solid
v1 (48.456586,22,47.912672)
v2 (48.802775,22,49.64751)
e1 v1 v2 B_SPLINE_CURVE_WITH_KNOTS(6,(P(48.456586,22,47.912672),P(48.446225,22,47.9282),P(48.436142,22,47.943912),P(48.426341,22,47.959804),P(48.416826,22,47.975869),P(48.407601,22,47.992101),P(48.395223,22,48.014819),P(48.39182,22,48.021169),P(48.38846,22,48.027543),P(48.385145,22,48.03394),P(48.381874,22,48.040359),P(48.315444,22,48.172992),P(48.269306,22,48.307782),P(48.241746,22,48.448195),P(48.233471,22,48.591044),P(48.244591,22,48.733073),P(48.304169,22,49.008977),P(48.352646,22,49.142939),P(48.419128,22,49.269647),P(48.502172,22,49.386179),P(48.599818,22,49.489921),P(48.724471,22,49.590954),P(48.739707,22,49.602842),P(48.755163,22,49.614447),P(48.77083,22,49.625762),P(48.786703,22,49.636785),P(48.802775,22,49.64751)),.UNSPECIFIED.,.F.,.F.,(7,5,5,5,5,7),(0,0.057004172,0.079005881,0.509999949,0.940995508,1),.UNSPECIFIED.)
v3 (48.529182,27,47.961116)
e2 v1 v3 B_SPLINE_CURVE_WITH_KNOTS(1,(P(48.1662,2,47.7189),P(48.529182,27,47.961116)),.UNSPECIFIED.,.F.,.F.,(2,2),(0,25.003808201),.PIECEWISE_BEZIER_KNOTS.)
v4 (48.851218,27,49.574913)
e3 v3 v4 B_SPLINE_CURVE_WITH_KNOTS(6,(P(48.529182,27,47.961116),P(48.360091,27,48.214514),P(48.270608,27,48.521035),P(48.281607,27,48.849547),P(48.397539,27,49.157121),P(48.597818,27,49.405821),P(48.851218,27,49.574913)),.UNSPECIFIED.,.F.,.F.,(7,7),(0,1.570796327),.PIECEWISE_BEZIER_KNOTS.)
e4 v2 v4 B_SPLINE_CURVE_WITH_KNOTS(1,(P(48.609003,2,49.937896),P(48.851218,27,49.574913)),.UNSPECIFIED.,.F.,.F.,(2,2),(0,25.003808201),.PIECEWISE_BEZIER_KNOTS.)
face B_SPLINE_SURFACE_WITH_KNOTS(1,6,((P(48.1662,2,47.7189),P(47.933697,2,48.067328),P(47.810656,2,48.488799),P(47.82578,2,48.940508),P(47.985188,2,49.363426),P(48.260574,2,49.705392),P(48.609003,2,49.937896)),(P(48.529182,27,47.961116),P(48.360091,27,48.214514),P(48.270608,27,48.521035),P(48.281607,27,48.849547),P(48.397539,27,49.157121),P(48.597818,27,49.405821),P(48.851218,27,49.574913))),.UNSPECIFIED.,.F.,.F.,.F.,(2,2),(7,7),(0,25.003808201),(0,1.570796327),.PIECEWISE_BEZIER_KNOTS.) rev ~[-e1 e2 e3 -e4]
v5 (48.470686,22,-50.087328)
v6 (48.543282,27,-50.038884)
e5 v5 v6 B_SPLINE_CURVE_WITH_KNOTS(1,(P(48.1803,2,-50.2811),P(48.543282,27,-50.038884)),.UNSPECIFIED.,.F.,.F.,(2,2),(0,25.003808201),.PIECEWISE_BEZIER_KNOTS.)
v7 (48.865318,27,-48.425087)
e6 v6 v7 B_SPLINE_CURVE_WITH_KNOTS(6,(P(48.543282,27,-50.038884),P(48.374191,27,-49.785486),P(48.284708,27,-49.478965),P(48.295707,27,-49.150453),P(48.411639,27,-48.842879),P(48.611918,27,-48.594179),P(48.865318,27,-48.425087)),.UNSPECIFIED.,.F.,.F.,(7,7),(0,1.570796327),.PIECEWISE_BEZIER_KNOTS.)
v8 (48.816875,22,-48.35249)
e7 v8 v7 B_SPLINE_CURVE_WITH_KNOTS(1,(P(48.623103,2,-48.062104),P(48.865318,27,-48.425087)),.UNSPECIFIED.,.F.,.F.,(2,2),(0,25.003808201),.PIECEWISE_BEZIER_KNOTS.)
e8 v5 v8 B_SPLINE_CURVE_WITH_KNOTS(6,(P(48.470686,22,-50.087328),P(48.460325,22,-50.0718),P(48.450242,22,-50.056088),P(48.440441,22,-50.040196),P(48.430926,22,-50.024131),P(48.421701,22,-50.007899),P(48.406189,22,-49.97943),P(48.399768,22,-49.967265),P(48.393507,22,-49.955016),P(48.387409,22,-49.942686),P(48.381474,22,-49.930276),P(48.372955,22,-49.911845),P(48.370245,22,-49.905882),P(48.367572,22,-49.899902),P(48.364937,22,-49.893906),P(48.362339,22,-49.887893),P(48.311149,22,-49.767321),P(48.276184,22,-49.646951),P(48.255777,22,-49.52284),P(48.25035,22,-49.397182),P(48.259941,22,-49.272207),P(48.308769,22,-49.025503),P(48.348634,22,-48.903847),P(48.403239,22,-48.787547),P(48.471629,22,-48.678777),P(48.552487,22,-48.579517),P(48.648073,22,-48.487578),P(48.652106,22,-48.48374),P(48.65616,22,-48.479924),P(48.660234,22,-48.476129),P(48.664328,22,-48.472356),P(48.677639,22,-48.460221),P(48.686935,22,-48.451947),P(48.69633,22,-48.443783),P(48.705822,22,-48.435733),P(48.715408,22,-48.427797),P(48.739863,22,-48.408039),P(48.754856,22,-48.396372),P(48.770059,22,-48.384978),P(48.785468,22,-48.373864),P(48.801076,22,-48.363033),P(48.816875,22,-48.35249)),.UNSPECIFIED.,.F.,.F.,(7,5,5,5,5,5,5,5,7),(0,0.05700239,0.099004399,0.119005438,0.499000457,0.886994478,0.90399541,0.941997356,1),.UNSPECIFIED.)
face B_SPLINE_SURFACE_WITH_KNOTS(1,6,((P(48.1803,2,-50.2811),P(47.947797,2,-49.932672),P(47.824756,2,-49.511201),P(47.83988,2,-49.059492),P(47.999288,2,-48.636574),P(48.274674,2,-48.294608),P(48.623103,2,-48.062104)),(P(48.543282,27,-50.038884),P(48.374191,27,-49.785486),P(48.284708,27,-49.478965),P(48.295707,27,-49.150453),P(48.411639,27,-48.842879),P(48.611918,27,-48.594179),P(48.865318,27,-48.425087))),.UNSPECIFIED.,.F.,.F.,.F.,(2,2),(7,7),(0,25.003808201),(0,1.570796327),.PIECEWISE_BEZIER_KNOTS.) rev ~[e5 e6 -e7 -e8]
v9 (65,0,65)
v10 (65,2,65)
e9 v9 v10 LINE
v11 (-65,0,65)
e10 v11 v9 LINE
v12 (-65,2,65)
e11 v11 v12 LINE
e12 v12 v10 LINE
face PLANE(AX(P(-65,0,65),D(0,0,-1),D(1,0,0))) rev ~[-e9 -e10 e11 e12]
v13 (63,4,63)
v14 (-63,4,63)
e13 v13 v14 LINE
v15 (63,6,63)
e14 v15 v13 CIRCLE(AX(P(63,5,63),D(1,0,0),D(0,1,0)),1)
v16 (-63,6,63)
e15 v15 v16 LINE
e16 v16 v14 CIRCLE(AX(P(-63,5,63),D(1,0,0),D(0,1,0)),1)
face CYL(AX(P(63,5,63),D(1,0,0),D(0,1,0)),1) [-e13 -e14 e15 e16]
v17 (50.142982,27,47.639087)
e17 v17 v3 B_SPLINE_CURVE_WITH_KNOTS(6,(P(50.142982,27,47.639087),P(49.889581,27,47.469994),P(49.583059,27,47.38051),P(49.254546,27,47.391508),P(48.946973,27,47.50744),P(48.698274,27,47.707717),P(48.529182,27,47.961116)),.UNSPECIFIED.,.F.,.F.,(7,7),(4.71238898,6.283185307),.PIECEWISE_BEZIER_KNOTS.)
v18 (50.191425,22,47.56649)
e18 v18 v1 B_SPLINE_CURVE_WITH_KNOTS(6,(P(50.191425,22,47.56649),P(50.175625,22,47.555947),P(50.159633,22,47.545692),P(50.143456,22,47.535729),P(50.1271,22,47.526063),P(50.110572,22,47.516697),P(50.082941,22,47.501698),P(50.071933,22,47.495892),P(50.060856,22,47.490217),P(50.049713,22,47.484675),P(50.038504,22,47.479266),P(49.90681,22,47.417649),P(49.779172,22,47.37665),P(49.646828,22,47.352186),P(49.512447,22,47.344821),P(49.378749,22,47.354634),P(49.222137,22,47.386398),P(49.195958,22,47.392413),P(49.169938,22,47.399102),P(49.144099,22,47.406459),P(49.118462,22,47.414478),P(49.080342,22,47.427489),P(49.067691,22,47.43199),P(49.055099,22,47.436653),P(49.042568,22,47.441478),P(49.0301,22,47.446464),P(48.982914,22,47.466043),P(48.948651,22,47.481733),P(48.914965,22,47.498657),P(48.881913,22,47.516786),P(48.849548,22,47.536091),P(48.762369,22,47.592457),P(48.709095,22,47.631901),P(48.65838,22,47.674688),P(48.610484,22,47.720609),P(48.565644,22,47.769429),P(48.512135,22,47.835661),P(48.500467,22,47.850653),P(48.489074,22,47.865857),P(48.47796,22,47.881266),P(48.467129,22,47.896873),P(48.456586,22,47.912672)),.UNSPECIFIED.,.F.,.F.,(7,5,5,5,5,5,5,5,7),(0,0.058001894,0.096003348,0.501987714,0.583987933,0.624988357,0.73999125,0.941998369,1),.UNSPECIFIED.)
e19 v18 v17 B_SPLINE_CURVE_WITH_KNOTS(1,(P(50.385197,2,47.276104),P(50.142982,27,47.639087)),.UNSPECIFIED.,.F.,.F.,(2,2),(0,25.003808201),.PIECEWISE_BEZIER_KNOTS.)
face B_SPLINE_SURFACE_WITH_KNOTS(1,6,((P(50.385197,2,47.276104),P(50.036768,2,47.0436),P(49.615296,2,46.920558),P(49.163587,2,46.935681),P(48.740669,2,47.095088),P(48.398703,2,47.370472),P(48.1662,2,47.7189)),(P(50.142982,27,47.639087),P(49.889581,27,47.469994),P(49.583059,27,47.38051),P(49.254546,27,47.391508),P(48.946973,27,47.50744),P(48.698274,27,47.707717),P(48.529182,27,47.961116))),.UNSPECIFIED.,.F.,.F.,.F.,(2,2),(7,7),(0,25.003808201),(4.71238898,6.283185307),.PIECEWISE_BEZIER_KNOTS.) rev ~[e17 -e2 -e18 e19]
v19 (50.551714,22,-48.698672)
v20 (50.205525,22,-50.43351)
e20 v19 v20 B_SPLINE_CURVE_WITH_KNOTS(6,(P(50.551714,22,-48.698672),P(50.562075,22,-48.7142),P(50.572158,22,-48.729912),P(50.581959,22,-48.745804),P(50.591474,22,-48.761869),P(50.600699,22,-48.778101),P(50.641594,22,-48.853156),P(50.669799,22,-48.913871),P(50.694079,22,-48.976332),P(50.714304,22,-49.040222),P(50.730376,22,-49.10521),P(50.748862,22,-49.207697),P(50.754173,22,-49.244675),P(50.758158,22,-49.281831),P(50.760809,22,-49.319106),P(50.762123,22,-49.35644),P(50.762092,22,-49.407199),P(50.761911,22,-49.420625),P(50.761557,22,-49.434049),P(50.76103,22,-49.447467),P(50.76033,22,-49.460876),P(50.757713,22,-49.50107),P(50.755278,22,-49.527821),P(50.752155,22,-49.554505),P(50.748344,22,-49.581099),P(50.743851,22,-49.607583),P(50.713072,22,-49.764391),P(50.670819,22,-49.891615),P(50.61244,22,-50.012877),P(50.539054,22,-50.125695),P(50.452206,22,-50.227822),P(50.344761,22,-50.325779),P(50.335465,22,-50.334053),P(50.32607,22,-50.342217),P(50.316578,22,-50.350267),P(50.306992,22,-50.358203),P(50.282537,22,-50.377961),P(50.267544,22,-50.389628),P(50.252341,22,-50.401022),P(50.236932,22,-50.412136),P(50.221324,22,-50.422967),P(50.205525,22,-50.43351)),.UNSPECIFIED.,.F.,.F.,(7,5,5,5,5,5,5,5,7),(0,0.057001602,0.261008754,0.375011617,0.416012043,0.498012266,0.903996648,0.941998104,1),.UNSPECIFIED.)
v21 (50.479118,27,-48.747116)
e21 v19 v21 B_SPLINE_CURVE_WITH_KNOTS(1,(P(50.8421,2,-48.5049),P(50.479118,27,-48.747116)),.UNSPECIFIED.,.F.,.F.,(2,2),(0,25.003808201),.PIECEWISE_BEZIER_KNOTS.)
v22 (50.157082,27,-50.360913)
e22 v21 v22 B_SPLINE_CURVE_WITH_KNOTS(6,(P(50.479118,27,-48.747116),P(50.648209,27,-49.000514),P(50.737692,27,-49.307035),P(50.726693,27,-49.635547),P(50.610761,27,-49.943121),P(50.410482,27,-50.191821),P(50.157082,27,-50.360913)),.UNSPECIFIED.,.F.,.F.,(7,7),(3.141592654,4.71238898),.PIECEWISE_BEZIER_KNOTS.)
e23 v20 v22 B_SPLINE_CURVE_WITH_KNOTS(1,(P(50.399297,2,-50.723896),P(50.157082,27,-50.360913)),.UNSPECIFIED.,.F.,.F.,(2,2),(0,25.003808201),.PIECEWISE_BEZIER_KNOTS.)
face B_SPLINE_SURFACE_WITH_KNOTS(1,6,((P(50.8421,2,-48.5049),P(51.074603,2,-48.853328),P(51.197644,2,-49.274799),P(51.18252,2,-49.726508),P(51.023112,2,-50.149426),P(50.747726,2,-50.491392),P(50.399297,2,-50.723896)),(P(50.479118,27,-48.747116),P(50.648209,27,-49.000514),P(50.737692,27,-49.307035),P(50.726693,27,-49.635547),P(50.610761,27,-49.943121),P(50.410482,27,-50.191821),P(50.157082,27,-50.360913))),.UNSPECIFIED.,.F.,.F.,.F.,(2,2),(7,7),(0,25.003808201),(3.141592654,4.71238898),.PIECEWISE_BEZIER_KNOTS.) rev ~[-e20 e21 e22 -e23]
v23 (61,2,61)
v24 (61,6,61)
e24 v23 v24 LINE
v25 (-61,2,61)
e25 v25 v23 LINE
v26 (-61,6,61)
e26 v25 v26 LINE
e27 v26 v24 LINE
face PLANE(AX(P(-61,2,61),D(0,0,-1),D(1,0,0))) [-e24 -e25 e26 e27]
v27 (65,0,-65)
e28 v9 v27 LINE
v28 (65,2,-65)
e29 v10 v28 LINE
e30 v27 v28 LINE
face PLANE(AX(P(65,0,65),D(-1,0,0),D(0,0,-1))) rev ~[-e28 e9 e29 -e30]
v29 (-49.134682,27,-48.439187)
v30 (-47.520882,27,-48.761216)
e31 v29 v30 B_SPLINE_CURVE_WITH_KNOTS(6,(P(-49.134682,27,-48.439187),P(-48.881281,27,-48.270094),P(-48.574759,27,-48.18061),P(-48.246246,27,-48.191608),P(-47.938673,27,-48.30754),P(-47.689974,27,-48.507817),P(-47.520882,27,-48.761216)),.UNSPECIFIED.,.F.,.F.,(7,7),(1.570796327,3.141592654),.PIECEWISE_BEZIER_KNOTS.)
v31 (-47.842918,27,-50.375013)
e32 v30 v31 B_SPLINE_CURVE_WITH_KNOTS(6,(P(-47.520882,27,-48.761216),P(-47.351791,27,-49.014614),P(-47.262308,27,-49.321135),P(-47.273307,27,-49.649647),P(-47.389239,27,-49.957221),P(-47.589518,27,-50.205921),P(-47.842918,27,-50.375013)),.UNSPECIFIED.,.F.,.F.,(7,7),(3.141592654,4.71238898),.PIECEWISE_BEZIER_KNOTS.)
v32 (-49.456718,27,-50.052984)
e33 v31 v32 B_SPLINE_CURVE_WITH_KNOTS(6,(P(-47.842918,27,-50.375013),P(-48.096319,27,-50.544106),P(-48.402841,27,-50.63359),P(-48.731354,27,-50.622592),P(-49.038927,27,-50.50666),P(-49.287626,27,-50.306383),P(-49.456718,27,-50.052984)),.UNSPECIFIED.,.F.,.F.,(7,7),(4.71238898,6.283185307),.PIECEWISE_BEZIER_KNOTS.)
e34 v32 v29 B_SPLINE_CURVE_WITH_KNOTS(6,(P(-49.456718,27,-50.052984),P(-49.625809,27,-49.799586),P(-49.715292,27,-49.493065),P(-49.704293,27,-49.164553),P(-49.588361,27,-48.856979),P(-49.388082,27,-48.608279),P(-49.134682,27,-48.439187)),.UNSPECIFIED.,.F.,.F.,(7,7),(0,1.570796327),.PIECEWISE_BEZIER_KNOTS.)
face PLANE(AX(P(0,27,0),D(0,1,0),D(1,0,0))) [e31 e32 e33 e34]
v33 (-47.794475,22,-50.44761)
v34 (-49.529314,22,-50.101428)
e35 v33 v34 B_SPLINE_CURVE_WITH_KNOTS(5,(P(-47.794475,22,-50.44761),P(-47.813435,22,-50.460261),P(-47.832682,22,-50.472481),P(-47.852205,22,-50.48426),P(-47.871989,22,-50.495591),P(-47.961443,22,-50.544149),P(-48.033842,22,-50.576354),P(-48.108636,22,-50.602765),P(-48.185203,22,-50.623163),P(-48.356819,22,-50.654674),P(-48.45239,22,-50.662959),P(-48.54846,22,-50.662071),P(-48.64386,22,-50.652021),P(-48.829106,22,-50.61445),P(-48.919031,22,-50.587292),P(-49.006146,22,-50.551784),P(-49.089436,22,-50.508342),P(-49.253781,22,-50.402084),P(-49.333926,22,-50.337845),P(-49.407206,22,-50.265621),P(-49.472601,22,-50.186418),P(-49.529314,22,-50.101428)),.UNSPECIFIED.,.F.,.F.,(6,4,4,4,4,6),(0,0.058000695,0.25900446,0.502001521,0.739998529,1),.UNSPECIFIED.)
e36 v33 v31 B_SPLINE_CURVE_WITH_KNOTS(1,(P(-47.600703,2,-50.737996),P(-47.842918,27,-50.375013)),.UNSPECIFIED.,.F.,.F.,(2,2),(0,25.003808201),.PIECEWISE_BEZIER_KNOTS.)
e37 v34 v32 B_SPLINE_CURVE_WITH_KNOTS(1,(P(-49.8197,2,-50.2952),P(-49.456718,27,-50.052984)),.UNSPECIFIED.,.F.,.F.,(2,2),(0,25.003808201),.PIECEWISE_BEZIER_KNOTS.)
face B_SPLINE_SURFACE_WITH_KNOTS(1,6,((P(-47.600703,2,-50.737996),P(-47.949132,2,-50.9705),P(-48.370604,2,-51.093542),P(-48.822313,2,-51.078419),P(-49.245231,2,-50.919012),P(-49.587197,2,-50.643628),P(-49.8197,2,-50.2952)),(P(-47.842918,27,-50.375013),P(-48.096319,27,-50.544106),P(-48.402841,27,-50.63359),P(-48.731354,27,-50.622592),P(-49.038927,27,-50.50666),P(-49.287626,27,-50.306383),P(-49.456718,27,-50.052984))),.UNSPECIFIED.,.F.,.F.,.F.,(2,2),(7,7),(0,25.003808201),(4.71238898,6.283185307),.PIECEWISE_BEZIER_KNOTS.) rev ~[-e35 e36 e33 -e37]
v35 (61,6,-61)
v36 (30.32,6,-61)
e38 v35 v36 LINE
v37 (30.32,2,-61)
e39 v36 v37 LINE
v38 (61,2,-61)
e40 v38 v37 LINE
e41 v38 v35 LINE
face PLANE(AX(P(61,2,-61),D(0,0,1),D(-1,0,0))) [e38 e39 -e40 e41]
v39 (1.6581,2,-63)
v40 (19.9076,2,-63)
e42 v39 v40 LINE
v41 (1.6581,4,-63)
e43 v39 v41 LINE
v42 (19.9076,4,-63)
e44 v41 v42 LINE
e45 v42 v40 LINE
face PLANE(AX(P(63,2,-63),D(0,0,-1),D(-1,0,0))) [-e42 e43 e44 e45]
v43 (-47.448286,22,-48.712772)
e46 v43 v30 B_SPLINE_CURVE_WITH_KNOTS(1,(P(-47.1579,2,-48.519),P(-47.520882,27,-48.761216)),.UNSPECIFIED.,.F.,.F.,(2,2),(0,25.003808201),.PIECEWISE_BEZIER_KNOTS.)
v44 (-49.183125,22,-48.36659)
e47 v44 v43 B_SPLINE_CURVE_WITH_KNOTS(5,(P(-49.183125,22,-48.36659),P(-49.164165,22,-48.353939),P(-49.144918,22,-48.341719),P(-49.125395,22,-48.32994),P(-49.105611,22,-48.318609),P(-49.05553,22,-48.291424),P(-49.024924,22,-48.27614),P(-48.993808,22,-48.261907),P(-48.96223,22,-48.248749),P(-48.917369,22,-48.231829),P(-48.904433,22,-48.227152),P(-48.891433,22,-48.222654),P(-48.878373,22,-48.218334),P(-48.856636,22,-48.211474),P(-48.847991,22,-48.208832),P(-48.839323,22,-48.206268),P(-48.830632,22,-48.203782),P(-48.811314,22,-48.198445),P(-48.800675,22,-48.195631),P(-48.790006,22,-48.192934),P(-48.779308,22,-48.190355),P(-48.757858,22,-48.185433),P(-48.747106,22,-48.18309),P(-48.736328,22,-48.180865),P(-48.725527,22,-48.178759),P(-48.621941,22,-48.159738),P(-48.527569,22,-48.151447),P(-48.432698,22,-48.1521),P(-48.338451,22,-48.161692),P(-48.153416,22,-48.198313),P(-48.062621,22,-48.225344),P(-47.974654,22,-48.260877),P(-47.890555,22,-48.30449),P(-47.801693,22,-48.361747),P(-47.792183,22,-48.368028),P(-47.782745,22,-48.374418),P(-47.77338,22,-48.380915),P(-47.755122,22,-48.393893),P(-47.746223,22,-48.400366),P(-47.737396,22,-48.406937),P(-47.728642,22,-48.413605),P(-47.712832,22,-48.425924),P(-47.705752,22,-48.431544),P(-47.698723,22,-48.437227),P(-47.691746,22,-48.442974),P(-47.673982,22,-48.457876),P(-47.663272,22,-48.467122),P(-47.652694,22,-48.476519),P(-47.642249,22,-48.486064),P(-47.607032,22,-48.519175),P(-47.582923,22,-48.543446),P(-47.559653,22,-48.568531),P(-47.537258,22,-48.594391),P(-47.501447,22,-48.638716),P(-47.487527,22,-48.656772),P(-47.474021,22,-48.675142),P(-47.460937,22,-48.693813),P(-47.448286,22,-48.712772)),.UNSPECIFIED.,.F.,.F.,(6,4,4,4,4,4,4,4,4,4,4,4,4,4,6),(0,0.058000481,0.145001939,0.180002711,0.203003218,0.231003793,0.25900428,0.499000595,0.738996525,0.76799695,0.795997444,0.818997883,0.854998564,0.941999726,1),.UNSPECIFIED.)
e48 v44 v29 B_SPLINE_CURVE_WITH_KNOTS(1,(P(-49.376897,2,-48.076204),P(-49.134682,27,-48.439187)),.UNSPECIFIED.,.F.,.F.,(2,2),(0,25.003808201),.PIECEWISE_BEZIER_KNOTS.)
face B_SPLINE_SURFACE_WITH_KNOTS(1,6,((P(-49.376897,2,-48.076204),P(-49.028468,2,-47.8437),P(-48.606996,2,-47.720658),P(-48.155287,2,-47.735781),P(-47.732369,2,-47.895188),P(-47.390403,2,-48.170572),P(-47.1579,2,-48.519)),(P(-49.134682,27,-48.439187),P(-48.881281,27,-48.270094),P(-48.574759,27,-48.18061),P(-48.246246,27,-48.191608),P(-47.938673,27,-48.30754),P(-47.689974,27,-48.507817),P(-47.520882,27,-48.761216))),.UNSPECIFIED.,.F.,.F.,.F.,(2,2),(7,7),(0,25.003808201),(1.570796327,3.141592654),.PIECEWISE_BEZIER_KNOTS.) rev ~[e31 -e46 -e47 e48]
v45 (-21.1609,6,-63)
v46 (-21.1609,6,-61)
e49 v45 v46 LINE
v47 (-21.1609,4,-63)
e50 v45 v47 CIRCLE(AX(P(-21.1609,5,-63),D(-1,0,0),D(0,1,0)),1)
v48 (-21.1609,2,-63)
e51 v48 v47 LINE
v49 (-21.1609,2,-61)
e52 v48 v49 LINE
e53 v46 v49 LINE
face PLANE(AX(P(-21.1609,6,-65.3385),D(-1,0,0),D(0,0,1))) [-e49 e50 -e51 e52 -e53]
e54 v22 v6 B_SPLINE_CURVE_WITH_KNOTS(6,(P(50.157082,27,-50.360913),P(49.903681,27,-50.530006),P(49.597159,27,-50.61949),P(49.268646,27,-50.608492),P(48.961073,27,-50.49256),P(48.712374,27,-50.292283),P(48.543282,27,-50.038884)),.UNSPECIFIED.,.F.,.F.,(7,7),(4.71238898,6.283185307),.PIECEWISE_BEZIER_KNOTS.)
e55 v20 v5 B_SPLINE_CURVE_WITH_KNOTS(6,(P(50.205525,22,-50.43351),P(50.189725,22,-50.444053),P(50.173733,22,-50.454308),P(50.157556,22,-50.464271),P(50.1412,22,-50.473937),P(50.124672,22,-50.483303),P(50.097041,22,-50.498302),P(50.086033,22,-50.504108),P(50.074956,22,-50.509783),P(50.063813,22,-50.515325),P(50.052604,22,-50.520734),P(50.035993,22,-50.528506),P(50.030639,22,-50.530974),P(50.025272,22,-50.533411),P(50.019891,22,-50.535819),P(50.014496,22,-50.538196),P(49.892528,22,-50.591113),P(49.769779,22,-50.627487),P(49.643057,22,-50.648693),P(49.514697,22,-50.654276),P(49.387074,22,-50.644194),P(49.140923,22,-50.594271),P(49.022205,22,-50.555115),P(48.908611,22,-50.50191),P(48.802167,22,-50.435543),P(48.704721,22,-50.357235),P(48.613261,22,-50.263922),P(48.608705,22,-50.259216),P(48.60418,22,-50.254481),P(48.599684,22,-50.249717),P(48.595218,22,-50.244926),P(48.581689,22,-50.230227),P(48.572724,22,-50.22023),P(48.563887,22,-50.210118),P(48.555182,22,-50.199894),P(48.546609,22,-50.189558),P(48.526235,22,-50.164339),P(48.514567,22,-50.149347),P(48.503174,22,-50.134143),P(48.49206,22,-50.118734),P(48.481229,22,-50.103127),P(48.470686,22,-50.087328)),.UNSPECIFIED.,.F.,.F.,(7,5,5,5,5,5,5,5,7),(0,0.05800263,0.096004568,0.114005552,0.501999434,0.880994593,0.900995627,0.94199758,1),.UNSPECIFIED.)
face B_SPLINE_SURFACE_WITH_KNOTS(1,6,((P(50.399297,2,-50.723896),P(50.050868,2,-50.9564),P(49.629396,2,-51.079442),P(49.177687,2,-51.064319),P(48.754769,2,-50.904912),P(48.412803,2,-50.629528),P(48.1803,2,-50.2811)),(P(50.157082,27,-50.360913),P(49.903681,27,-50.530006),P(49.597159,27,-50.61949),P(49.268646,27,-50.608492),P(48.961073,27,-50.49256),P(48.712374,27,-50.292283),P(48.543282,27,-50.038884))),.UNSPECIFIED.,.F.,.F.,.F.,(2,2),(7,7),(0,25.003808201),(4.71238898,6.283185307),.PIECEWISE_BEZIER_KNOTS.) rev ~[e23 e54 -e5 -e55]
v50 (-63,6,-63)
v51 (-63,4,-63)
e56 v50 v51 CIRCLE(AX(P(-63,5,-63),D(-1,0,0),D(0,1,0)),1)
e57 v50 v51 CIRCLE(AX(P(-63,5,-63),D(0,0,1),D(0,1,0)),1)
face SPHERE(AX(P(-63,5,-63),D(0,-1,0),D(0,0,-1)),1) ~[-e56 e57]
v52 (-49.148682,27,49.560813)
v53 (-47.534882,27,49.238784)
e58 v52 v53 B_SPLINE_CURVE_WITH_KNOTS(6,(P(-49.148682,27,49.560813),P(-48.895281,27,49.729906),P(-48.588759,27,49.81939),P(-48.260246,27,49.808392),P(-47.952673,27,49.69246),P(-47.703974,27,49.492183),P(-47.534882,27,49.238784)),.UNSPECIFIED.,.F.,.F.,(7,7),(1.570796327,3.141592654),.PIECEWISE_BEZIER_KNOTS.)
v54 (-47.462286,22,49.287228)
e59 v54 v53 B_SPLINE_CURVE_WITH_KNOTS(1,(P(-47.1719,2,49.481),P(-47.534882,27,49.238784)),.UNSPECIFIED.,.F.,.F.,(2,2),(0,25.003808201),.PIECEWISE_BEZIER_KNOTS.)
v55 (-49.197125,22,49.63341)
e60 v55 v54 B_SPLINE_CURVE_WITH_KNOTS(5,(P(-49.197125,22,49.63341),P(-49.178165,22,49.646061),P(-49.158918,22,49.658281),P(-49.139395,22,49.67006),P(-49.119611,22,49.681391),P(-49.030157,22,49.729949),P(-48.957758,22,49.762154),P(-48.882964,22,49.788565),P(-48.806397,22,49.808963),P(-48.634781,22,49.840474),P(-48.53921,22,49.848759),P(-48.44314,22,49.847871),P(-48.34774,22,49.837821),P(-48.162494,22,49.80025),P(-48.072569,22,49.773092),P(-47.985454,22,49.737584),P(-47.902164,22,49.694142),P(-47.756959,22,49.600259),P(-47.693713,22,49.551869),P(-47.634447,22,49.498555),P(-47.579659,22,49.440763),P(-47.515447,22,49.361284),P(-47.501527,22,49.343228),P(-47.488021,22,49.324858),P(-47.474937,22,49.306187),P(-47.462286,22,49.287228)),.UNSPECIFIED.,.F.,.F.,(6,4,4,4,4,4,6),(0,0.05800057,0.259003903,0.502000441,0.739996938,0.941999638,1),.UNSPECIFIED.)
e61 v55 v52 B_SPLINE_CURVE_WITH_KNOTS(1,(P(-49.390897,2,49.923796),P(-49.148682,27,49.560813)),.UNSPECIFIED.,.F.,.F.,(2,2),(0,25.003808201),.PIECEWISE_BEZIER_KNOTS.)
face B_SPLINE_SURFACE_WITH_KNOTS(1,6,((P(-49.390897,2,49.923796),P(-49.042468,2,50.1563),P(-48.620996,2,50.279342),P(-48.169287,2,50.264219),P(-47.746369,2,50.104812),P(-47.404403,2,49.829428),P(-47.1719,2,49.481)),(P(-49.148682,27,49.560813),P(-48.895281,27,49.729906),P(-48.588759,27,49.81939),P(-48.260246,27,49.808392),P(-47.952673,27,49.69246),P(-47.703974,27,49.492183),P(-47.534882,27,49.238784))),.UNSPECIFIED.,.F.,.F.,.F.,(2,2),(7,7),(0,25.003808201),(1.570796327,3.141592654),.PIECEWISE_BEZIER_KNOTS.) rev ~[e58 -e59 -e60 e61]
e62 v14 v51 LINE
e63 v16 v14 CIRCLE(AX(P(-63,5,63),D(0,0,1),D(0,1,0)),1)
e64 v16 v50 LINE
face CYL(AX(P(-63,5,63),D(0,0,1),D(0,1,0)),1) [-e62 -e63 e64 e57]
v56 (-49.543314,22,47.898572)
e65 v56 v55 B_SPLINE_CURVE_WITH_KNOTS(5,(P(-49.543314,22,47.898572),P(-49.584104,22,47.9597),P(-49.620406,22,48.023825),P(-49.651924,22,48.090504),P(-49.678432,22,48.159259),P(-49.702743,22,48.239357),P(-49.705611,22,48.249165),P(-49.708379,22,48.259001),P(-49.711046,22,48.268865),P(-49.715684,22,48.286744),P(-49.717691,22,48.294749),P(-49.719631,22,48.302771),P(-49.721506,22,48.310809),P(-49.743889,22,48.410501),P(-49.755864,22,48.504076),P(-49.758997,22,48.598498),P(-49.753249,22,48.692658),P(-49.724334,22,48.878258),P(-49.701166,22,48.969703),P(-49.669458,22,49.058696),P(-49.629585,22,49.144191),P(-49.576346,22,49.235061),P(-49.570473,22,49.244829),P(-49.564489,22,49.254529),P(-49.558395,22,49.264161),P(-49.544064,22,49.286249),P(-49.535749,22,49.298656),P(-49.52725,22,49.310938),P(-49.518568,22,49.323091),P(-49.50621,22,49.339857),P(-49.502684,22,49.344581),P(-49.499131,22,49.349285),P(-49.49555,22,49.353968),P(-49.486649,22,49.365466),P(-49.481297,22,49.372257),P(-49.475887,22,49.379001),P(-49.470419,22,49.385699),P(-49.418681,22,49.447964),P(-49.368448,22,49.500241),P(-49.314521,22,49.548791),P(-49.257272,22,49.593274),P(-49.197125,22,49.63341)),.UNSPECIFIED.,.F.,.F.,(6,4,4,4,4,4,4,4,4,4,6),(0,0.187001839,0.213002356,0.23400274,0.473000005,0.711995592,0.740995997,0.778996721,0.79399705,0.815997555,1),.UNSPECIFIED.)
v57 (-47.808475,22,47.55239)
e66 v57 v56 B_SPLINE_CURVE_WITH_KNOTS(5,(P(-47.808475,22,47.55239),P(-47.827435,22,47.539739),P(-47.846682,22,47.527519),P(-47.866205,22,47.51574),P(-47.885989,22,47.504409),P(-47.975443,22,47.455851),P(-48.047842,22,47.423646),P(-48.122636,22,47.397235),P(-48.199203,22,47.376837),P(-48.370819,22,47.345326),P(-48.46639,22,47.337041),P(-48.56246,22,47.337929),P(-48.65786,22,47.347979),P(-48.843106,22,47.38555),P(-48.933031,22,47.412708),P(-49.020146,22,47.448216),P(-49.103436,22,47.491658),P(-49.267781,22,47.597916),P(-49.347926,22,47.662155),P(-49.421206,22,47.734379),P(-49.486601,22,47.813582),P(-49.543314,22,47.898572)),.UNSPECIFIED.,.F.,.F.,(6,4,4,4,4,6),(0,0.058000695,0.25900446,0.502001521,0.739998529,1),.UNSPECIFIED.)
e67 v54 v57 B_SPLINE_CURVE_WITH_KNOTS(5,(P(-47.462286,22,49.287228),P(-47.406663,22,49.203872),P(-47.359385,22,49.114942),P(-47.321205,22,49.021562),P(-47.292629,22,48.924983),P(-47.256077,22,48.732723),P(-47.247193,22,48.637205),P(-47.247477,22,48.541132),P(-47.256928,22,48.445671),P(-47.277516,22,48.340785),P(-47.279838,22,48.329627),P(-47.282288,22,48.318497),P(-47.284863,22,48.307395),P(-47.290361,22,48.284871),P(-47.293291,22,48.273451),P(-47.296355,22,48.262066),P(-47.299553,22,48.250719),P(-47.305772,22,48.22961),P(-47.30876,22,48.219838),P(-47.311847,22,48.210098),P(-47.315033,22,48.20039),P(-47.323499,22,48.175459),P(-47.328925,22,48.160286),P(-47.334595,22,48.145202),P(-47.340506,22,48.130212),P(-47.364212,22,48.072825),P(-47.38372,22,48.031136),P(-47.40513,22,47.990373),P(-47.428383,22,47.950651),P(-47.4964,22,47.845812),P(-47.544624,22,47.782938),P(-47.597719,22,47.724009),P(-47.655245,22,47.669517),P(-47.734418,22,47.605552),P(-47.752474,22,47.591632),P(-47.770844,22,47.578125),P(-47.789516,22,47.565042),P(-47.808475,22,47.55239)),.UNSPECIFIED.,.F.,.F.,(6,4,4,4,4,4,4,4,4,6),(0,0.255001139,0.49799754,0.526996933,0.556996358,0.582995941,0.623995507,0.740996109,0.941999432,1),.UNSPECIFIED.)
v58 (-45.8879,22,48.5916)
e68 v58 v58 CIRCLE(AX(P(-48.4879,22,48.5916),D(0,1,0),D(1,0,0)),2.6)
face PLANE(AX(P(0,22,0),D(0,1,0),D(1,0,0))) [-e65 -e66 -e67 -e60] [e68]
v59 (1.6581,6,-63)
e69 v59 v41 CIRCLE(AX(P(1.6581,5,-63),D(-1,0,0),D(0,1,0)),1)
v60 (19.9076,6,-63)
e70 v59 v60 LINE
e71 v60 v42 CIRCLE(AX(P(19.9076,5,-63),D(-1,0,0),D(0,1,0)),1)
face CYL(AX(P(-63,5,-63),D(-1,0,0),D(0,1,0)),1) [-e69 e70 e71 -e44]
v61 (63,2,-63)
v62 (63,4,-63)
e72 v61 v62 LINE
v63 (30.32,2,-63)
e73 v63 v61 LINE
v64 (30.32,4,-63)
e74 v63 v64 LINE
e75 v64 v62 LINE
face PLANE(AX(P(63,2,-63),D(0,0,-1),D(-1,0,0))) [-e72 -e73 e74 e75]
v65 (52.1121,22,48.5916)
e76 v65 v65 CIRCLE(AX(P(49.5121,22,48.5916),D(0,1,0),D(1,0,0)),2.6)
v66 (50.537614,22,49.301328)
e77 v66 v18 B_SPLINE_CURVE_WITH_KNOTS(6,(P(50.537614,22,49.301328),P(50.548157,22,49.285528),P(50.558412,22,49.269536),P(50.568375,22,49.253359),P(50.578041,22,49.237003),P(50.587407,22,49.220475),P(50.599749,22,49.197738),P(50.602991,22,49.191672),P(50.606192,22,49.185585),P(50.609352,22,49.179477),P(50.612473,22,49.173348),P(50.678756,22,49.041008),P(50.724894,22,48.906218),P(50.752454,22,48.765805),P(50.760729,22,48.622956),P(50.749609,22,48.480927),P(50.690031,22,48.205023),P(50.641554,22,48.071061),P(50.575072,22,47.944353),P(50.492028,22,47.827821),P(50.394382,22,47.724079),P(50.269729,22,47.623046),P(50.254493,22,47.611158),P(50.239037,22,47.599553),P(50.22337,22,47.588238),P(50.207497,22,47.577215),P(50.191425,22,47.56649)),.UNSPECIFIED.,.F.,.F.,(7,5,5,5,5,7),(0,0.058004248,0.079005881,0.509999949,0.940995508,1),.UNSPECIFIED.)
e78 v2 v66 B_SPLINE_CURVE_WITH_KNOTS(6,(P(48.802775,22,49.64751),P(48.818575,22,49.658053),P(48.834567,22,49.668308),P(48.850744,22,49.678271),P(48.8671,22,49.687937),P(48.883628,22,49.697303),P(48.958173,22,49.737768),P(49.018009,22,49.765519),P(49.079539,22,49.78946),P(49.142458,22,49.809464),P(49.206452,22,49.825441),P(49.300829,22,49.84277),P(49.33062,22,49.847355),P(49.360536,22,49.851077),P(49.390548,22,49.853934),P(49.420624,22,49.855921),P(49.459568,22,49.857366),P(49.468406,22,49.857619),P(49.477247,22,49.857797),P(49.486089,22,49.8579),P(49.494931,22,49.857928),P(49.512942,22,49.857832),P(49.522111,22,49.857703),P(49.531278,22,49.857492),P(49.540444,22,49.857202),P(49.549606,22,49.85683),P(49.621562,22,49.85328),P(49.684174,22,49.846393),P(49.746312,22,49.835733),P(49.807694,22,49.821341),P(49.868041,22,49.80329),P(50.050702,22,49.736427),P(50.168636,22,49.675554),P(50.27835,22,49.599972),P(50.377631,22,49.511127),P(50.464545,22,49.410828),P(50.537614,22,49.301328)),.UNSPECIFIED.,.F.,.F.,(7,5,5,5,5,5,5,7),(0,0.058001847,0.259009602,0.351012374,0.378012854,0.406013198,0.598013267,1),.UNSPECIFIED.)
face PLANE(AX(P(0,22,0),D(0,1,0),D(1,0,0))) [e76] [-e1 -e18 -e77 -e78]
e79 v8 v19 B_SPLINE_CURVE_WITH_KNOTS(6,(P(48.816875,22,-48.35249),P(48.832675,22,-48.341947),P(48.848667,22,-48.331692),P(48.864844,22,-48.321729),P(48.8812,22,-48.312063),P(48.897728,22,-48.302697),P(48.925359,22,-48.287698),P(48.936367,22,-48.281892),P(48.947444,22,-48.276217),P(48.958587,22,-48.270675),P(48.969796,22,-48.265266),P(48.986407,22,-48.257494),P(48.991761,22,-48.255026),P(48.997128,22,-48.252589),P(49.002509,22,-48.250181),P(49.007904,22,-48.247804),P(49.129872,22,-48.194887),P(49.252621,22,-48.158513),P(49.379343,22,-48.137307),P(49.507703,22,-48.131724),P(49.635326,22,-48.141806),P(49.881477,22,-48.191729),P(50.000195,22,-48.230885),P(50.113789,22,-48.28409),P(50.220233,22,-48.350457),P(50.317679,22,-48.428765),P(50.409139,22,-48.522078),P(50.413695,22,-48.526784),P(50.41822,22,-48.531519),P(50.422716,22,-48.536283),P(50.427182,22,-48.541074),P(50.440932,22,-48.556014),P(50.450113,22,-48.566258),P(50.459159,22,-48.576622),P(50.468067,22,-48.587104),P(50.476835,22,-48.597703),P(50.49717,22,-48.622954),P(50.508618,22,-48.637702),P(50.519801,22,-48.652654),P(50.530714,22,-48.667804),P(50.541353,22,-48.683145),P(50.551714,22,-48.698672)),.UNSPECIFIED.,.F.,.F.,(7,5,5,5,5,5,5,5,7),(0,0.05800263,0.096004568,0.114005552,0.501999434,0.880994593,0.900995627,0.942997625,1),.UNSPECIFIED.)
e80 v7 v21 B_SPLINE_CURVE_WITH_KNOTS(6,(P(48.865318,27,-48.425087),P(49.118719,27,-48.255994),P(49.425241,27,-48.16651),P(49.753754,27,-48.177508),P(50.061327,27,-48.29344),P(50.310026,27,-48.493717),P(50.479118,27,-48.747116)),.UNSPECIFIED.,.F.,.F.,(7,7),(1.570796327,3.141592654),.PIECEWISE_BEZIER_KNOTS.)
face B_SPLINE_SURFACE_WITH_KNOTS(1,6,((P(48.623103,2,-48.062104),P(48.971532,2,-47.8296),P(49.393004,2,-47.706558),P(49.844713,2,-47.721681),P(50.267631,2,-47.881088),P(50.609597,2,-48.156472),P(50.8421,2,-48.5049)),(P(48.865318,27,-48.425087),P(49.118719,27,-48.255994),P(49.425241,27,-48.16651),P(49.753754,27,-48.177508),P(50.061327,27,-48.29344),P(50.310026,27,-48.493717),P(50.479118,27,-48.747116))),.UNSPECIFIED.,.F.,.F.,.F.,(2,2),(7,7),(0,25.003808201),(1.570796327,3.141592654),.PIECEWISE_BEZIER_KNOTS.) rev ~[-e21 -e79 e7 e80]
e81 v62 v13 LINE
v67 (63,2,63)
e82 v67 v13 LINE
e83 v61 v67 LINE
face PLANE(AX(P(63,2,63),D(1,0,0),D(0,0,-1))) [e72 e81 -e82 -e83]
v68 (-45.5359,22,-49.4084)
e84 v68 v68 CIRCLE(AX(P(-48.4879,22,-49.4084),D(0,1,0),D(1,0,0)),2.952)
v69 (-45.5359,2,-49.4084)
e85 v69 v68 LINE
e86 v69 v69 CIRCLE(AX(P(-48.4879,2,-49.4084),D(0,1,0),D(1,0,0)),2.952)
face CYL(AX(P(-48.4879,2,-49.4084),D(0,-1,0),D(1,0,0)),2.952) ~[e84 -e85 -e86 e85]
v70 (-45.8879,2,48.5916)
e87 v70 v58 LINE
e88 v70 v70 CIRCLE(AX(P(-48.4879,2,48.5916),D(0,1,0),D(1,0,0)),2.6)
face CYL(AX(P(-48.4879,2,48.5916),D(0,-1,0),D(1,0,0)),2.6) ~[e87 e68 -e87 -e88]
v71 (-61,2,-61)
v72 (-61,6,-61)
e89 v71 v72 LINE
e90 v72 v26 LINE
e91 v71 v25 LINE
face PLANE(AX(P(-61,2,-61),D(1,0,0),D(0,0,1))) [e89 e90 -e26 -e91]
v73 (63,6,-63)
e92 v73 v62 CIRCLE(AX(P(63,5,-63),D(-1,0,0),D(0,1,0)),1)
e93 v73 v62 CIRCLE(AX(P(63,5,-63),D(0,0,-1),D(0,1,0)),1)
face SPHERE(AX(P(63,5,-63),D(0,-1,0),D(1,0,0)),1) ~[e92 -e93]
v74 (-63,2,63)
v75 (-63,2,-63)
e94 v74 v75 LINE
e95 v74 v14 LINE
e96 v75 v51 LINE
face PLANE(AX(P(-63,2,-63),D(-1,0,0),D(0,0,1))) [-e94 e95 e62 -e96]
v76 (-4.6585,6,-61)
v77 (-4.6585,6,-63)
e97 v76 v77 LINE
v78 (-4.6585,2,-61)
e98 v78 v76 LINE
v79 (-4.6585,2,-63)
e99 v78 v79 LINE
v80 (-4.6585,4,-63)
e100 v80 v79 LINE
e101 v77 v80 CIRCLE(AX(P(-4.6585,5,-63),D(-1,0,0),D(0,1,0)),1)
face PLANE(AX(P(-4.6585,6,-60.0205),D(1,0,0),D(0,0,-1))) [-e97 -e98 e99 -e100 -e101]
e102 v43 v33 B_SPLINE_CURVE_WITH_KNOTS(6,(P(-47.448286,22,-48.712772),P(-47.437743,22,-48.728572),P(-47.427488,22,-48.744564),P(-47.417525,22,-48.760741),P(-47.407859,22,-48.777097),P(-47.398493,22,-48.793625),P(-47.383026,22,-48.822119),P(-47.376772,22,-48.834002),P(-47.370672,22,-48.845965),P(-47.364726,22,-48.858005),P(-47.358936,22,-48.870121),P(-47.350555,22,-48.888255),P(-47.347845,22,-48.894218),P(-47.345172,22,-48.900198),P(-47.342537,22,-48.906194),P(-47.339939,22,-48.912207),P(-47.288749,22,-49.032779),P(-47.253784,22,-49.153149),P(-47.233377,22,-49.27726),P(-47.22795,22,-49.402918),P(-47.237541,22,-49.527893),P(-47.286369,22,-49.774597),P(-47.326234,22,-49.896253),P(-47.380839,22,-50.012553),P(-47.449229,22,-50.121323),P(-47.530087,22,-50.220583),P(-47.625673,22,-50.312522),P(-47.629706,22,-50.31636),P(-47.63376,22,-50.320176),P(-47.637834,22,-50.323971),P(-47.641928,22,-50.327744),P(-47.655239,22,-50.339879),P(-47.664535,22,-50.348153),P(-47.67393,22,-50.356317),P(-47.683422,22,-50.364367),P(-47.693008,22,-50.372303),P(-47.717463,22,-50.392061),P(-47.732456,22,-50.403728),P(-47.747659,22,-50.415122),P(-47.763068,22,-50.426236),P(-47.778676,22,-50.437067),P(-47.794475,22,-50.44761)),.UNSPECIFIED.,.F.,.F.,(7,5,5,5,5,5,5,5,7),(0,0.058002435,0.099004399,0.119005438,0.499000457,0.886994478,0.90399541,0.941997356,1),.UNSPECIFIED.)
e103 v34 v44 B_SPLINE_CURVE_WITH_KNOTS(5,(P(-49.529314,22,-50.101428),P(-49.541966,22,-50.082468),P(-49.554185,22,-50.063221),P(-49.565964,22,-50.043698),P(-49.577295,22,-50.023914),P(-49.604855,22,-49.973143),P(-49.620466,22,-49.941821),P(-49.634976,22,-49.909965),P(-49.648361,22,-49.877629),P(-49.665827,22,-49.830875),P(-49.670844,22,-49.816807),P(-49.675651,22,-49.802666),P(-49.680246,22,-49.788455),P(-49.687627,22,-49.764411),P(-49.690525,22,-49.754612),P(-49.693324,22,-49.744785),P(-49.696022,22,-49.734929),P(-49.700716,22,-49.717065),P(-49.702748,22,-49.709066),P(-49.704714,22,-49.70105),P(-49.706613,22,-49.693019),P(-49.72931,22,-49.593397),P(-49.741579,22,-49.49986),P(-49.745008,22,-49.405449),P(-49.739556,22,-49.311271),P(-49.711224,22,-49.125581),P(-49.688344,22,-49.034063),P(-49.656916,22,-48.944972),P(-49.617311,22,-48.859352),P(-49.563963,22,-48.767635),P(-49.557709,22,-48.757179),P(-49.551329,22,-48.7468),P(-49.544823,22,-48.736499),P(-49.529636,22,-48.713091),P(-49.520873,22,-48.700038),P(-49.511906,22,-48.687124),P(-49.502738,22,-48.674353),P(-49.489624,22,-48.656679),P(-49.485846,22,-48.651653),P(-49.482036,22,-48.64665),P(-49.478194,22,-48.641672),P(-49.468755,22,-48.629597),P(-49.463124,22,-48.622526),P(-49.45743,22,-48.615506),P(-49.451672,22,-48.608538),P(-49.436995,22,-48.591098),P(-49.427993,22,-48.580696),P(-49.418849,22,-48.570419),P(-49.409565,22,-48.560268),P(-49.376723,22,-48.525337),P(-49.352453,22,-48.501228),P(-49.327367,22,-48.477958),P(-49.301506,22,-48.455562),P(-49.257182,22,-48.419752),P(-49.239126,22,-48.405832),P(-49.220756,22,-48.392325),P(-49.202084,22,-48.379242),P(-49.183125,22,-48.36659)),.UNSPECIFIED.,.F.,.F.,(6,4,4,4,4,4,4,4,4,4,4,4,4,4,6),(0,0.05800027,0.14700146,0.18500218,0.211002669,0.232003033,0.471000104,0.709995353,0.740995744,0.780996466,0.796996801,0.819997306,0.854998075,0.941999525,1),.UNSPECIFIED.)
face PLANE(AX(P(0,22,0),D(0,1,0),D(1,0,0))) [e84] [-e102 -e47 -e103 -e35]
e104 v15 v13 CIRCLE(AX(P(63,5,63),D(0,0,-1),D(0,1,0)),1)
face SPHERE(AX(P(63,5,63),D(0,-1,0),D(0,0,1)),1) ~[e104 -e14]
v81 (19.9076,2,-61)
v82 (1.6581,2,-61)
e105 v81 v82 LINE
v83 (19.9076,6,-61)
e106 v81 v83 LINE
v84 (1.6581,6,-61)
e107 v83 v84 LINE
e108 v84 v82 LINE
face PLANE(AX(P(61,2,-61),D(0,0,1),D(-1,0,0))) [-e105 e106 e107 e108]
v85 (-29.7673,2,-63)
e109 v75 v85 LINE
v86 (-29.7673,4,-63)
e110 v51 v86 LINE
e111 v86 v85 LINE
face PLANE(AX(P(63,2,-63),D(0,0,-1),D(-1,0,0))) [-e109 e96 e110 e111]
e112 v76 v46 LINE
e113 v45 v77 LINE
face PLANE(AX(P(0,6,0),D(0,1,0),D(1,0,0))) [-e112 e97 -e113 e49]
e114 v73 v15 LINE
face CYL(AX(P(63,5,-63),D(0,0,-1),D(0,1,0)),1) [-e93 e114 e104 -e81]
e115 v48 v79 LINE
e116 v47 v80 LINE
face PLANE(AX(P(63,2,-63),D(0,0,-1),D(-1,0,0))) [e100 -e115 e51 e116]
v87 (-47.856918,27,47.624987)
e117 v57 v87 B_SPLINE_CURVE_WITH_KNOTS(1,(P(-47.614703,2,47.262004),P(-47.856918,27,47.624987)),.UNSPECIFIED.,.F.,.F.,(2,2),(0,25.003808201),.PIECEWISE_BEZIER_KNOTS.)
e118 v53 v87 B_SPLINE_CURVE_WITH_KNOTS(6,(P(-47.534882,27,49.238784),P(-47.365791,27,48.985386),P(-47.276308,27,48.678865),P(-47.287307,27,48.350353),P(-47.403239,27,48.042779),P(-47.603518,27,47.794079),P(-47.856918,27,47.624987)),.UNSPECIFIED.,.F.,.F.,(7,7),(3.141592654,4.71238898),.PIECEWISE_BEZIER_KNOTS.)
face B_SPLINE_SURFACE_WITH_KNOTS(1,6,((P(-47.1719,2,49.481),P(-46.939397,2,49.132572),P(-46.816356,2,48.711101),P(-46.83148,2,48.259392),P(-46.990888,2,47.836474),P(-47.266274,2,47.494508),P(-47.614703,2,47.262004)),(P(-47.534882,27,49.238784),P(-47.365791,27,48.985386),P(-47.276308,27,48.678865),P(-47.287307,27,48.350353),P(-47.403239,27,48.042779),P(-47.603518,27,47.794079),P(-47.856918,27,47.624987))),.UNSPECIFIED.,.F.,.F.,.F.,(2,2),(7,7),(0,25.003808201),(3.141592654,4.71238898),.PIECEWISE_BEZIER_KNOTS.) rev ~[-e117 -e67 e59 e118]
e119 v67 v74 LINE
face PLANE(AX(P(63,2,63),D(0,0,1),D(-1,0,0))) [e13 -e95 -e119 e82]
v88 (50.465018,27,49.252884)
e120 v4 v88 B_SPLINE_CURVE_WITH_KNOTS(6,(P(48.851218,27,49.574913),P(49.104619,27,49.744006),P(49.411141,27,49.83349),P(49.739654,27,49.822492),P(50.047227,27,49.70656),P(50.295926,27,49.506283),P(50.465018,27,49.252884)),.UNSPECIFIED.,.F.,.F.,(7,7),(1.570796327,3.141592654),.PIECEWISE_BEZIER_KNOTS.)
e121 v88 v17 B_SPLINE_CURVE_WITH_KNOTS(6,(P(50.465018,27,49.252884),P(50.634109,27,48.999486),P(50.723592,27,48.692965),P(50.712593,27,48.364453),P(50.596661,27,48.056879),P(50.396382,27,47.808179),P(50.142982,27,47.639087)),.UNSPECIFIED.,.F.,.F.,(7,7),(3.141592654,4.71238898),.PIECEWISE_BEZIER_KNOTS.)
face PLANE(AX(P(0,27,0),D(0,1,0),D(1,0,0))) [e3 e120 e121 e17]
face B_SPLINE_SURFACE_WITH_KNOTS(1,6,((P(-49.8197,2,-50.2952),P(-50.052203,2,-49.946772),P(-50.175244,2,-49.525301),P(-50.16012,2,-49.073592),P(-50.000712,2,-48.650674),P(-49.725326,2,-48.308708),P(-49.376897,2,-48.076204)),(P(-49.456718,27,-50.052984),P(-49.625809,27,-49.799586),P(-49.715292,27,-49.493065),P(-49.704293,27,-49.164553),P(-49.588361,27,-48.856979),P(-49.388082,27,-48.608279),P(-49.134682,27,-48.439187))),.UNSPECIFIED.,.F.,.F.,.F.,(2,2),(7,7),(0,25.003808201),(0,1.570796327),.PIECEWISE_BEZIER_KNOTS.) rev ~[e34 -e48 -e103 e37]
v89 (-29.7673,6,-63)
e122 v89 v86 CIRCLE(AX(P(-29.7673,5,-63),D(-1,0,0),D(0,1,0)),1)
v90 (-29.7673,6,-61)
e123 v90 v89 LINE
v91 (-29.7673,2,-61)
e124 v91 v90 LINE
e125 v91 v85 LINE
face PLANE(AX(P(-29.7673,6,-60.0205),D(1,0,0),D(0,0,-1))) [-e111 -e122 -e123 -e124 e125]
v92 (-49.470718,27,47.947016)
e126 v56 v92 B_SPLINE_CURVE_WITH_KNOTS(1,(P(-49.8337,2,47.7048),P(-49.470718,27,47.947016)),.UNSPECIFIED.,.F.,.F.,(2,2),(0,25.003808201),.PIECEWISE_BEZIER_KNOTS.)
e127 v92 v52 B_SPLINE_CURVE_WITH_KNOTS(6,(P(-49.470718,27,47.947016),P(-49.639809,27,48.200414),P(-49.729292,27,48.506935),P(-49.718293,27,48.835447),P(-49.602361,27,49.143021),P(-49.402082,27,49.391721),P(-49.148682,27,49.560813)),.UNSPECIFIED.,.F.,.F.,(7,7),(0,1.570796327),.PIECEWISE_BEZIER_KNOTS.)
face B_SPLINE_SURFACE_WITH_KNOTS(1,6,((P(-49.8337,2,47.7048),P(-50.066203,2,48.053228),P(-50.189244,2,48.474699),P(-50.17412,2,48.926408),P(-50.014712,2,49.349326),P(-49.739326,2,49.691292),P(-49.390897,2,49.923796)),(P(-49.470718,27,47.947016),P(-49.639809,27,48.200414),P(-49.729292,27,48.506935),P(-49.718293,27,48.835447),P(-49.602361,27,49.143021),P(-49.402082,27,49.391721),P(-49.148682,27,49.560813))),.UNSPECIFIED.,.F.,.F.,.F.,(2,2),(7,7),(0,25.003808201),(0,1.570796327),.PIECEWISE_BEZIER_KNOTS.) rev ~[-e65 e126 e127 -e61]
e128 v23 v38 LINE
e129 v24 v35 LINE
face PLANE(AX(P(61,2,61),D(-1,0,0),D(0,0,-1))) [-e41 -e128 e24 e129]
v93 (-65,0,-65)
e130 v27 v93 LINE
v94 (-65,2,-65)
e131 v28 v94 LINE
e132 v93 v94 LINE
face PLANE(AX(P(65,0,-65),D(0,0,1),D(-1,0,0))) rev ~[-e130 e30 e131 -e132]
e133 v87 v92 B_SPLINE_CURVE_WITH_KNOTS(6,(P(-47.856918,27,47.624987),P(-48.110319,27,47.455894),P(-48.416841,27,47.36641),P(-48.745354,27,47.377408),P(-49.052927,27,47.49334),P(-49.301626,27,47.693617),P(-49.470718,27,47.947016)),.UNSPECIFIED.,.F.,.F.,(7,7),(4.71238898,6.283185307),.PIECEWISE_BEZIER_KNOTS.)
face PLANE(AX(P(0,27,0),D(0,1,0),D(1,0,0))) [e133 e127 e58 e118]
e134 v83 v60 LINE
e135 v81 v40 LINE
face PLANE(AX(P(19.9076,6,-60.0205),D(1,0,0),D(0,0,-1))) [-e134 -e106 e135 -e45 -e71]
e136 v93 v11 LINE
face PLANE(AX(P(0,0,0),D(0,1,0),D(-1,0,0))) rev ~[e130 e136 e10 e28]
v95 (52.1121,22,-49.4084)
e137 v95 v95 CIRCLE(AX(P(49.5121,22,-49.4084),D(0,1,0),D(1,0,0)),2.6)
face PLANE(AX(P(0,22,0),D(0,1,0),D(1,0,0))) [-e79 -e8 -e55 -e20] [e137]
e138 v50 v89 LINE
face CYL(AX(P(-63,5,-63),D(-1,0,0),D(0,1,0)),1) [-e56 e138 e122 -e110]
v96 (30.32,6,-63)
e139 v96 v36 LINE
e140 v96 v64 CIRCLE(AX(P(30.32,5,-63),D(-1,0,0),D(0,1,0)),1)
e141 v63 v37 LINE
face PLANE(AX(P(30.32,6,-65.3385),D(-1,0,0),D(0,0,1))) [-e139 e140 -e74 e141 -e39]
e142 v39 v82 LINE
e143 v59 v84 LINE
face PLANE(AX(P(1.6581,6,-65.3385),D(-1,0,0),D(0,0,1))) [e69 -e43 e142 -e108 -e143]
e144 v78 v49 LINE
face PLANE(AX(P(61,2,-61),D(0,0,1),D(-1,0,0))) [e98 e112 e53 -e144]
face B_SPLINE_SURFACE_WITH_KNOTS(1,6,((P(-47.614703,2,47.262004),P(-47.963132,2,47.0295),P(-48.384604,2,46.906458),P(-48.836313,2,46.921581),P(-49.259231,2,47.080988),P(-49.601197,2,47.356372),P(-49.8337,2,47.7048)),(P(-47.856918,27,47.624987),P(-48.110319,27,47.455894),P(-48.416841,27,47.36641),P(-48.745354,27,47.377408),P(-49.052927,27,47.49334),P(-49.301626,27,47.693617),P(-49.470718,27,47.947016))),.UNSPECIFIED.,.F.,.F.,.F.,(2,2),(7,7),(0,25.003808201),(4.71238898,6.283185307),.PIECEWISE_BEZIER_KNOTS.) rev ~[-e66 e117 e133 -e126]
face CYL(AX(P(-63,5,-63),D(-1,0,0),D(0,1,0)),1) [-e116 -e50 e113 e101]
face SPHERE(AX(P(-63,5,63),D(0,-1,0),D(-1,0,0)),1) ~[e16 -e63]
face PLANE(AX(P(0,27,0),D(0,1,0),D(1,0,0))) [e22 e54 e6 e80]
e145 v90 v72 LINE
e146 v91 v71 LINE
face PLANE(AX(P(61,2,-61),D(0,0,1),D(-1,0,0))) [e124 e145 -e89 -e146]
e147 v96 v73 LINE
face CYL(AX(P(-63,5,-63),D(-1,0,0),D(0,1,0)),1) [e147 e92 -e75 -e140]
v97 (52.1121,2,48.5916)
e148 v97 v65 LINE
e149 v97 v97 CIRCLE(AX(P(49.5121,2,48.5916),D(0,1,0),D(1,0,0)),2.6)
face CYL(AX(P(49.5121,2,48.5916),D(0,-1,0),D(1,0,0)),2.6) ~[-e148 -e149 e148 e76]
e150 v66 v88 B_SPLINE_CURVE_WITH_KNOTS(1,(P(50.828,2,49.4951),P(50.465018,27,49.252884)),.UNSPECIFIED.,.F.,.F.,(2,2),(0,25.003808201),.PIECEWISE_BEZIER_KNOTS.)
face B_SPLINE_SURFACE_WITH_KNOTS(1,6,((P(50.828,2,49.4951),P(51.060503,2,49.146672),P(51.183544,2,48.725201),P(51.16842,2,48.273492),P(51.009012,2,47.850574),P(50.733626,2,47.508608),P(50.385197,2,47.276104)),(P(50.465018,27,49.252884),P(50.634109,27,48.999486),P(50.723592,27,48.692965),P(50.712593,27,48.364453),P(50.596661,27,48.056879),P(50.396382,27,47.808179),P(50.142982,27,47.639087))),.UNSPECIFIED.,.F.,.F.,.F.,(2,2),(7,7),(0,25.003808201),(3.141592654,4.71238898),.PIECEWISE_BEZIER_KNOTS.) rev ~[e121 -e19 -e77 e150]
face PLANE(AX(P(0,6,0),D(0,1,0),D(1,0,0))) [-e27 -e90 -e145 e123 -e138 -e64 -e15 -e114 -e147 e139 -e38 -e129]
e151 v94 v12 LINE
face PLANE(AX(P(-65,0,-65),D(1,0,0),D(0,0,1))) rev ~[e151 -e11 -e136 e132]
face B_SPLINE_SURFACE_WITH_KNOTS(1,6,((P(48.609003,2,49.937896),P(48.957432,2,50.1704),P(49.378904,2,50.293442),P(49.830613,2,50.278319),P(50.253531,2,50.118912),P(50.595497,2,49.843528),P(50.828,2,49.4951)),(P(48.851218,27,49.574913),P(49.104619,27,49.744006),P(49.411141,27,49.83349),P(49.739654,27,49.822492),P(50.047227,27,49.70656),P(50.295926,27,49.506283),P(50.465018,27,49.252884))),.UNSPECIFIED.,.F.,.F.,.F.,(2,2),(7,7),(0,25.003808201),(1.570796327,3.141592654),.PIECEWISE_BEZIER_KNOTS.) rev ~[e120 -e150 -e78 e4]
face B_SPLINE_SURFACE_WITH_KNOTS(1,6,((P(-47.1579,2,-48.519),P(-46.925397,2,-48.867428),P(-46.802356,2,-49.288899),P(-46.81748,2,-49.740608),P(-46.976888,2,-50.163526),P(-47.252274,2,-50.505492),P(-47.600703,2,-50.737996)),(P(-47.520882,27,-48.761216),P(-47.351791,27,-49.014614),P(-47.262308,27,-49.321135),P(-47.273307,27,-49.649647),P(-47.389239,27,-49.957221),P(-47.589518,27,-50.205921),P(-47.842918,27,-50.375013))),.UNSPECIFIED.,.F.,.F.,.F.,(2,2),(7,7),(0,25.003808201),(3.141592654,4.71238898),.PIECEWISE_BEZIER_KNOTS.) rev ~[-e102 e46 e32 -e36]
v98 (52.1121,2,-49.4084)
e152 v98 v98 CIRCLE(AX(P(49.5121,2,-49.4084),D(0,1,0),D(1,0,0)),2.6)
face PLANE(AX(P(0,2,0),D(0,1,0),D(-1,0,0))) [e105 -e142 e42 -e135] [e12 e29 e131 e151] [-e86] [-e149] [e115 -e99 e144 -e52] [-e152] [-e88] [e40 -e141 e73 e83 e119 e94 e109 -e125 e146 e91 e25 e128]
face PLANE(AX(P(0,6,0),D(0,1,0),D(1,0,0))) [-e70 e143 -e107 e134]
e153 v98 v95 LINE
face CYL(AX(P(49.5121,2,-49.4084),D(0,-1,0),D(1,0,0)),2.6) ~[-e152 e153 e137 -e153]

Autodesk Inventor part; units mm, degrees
ref_plane "YZ Plane" through (0, 0, 0) normal (1, 0, 0) x (0, 1, 0)
ref_plane "XZ Plane" through (0, 0, 0) normal (0, 1, 0) x (-1, 0, 0)
ref_plane "XY Plane" through (0, 0, 0) normal (0, 0, 1) x (1, 0, 0)
sketch "Bottom_profile" plane through (0, 0, 0) normal (0, 1, 0) x (-1, 0, 0)
  line L0 (65, 65) -> (-65, 65)
  line L1 (-65, 65) -> (-65, -65)
  line L2 (-65, -65) -> (65, -65)
  line L3 (65, -65) -> (65, 65)
  line L4 (65, 65) -> (-65, -65) construction
  line L5 (-65, 65) -> (65, -65) construction
  point P0 (0, 0)
  dimension "Enclosure_width" = 130
  dimension "Enclosure_height" = 130
extrude "Bottom" add sketch "Bottom_profile" along normal blind 2
sketch "Wall_profile" plane through (0, 2, 0) normal (0, 1, 0) x (1, 0, 0)
  line L0 (65, -65) -> (65, 65) projected
  line L1 (65, 65) -> (-65, 65) projected
  line L2 (-65, 65) -> (-65, -65) projected
  line L3 (-65, -65) -> (65, -65) projected
  line L4 (-63, 63) -> (63, 63)
  line L5 (63, 63) -> (63, -63)
  line L6 (63, -63) -> (-63, -63)
  line L7 (-63, -63) -> (-63, 63)
  line L8 (61, 61) -> (-61, 61)
  line L9 (-61, 61) -> (-61, -61)
  line L10 (-61, -61) -> (61, -61)
  line L11 (61, -61) -> (61, 61)
  point P0 (0, 0)
  dimension "Wall_from_outer" = 2
  dimension "Wall_thickness" = 2
extrude "Walls" add sketch "Wall_profile" along normal blind 4 contours L4 L5 L6 L7
sketch "Lip_front_profile" plane through (63, 2, 63) normal (1, 0, 0) x (0, 0, -1)
  line L0 (0, 0) -> (0, 4) projected
  arc A0 (0, 4) -> (0, 2) centre (0, 3) ccw
  line L1 (0, 3) -> (0, 4) construction
  line L2 (0, 3) -> (1, 3) construction
  line L3 (0, 3) -> (0, 2) construction
  line L4 (0, 4) -> (126, 4) projected
  line L5 (2, 4) -> (124, 4) construction
  line L6 (128, 0) -> (-2, 0) construction
  point P0 (63, -2)
  point P1 (0, 4)
  point P2 (0, 2)
  dimension "Lip_diameter" = 1
  dimension "d9" = 90
  dimension "d10" = 180
  dimension "d11" = 1
extrude "Lip_front" add sketch "Lip_front_profile" against normal up to surface (126 mm away)
revolve "Lip_corner" add sketch "Lip_front_profile" angle 90 about axis through (63, 2, 63) along (0, 1, 0)
pattern_circular "Lip_mirroring" count 4 over 360 about axis through (0, -10, 0) along (0, 1, 0) of "Lip_front", "Lip_corner"
sketch "PCB_mounting_holes" plane through (0, 2, 0) normal (0, 1, 0) x (1, 0, 0)
  ellipse E0 centre (49.4971, -48.607) end of major axis (48.1662, -47.7189) minor radius 1.6 projected
  ellipse E1 centre (-48.5028, -48.5929) end of major axis (-49.8337, -47.7048) minor radius 1.6 projected
  ellipse E2 centre (49.5112, 49.393) end of major axis (48.1803, 50.2811) minor radius 1.6 projected
  ellipse E3 centre (-48.4888, 49.4071) end of major axis (-49.8197, 50.2952) minor radius 1.6 projected
  point P0 (0, 0)
extrude "PCB_post_inner" add sketch "PCB_mounting_holes" along normal blind 25 draft -1
sketch "PCB_post_outer_offsets" plane through (0, 2, 0) normal (0, 1, 0) x (1, 0, 0)
  circle A0 centre (-48.4879, 49.4084) radius 1.6 projected
  circle A1 centre (-48.4879, -48.5916) radius 1.6 projected
  circle A2 centre (49.5121, -48.5916) radius 1.6 projected
  circle A3 centre (49.5121, 49.4084) radius 1.6 projected
  circle A4 centre (-48.4879, 49.4084) radius 2.6
  circle A5 centre (-48.4879, 49.4084) radius 2.952
  circle A6 centre (-48.4879, -48.5916) radius 2.6
  circle A7 centre (49.5121, -48.5916) radius 2.6
  circle A8 centre (49.5121, 49.4084) radius 2.6
  point P0 (0, 0)
  dimension "d26" = 1
  dimension "d27" = 1
  dimension "d29" = 1
  dimension "d30" = 1
extrude "PCB_post_outer" add sketch "PCB_post_outer_offsets" along normal blind 20 contours A0 | A1 | A2 | A3 | A4 | A5 | A6 | A7 | A8
sketch "Sketch8" plane through (0, 6, 0) normal (0, 1, 0) x (1, 0, 0)
  line L0 (30.32, 60.0205) -> (19.9076, 60.0205)
  line L1 (19.9076, 60.0205) -> (19.9076, 65.3385)
  line L2 (19.9076, 65.3385) -> (30.32, 65.3385)
  line L3 (30.32, 65.3385) -> (30.32, 60.0205)
  line L4 (1.6581, 60.0205) -> (-4.6585, 60.0205)
  line L5 (-4.6585, 60.0205) -> (-4.6585, 65.3385)
  line L6 (-4.6585, 65.3385) -> (1.6581, 65.3385)
  line L7 (1.6581, 65.3385) -> (1.6581, 60.0205)
  line L8 (-21.1609, 60.0205) -> (-29.7673, 60.0205)
  line L9 (-29.7673, 60.0205) -> (-29.7673, 65.3385)
  line L10 (-29.7673, 65.3385) -> (-21.1609, 65.3385)
  line L11 (-21.1609, 65.3385) -> (-21.1609, 60.0205)
  point P0 (0, 0)
extrude "Extrusion7" cut sketch "Sketch8" against normal blind 4
equation "\"d11\" = Lip_diameter"
equation "\"d27\" = d26"
equation "\"d29\" = d26"
equation "\"d30\" = d26"
properties part number "Enclosure_bottom" material "ABS Plastic"
